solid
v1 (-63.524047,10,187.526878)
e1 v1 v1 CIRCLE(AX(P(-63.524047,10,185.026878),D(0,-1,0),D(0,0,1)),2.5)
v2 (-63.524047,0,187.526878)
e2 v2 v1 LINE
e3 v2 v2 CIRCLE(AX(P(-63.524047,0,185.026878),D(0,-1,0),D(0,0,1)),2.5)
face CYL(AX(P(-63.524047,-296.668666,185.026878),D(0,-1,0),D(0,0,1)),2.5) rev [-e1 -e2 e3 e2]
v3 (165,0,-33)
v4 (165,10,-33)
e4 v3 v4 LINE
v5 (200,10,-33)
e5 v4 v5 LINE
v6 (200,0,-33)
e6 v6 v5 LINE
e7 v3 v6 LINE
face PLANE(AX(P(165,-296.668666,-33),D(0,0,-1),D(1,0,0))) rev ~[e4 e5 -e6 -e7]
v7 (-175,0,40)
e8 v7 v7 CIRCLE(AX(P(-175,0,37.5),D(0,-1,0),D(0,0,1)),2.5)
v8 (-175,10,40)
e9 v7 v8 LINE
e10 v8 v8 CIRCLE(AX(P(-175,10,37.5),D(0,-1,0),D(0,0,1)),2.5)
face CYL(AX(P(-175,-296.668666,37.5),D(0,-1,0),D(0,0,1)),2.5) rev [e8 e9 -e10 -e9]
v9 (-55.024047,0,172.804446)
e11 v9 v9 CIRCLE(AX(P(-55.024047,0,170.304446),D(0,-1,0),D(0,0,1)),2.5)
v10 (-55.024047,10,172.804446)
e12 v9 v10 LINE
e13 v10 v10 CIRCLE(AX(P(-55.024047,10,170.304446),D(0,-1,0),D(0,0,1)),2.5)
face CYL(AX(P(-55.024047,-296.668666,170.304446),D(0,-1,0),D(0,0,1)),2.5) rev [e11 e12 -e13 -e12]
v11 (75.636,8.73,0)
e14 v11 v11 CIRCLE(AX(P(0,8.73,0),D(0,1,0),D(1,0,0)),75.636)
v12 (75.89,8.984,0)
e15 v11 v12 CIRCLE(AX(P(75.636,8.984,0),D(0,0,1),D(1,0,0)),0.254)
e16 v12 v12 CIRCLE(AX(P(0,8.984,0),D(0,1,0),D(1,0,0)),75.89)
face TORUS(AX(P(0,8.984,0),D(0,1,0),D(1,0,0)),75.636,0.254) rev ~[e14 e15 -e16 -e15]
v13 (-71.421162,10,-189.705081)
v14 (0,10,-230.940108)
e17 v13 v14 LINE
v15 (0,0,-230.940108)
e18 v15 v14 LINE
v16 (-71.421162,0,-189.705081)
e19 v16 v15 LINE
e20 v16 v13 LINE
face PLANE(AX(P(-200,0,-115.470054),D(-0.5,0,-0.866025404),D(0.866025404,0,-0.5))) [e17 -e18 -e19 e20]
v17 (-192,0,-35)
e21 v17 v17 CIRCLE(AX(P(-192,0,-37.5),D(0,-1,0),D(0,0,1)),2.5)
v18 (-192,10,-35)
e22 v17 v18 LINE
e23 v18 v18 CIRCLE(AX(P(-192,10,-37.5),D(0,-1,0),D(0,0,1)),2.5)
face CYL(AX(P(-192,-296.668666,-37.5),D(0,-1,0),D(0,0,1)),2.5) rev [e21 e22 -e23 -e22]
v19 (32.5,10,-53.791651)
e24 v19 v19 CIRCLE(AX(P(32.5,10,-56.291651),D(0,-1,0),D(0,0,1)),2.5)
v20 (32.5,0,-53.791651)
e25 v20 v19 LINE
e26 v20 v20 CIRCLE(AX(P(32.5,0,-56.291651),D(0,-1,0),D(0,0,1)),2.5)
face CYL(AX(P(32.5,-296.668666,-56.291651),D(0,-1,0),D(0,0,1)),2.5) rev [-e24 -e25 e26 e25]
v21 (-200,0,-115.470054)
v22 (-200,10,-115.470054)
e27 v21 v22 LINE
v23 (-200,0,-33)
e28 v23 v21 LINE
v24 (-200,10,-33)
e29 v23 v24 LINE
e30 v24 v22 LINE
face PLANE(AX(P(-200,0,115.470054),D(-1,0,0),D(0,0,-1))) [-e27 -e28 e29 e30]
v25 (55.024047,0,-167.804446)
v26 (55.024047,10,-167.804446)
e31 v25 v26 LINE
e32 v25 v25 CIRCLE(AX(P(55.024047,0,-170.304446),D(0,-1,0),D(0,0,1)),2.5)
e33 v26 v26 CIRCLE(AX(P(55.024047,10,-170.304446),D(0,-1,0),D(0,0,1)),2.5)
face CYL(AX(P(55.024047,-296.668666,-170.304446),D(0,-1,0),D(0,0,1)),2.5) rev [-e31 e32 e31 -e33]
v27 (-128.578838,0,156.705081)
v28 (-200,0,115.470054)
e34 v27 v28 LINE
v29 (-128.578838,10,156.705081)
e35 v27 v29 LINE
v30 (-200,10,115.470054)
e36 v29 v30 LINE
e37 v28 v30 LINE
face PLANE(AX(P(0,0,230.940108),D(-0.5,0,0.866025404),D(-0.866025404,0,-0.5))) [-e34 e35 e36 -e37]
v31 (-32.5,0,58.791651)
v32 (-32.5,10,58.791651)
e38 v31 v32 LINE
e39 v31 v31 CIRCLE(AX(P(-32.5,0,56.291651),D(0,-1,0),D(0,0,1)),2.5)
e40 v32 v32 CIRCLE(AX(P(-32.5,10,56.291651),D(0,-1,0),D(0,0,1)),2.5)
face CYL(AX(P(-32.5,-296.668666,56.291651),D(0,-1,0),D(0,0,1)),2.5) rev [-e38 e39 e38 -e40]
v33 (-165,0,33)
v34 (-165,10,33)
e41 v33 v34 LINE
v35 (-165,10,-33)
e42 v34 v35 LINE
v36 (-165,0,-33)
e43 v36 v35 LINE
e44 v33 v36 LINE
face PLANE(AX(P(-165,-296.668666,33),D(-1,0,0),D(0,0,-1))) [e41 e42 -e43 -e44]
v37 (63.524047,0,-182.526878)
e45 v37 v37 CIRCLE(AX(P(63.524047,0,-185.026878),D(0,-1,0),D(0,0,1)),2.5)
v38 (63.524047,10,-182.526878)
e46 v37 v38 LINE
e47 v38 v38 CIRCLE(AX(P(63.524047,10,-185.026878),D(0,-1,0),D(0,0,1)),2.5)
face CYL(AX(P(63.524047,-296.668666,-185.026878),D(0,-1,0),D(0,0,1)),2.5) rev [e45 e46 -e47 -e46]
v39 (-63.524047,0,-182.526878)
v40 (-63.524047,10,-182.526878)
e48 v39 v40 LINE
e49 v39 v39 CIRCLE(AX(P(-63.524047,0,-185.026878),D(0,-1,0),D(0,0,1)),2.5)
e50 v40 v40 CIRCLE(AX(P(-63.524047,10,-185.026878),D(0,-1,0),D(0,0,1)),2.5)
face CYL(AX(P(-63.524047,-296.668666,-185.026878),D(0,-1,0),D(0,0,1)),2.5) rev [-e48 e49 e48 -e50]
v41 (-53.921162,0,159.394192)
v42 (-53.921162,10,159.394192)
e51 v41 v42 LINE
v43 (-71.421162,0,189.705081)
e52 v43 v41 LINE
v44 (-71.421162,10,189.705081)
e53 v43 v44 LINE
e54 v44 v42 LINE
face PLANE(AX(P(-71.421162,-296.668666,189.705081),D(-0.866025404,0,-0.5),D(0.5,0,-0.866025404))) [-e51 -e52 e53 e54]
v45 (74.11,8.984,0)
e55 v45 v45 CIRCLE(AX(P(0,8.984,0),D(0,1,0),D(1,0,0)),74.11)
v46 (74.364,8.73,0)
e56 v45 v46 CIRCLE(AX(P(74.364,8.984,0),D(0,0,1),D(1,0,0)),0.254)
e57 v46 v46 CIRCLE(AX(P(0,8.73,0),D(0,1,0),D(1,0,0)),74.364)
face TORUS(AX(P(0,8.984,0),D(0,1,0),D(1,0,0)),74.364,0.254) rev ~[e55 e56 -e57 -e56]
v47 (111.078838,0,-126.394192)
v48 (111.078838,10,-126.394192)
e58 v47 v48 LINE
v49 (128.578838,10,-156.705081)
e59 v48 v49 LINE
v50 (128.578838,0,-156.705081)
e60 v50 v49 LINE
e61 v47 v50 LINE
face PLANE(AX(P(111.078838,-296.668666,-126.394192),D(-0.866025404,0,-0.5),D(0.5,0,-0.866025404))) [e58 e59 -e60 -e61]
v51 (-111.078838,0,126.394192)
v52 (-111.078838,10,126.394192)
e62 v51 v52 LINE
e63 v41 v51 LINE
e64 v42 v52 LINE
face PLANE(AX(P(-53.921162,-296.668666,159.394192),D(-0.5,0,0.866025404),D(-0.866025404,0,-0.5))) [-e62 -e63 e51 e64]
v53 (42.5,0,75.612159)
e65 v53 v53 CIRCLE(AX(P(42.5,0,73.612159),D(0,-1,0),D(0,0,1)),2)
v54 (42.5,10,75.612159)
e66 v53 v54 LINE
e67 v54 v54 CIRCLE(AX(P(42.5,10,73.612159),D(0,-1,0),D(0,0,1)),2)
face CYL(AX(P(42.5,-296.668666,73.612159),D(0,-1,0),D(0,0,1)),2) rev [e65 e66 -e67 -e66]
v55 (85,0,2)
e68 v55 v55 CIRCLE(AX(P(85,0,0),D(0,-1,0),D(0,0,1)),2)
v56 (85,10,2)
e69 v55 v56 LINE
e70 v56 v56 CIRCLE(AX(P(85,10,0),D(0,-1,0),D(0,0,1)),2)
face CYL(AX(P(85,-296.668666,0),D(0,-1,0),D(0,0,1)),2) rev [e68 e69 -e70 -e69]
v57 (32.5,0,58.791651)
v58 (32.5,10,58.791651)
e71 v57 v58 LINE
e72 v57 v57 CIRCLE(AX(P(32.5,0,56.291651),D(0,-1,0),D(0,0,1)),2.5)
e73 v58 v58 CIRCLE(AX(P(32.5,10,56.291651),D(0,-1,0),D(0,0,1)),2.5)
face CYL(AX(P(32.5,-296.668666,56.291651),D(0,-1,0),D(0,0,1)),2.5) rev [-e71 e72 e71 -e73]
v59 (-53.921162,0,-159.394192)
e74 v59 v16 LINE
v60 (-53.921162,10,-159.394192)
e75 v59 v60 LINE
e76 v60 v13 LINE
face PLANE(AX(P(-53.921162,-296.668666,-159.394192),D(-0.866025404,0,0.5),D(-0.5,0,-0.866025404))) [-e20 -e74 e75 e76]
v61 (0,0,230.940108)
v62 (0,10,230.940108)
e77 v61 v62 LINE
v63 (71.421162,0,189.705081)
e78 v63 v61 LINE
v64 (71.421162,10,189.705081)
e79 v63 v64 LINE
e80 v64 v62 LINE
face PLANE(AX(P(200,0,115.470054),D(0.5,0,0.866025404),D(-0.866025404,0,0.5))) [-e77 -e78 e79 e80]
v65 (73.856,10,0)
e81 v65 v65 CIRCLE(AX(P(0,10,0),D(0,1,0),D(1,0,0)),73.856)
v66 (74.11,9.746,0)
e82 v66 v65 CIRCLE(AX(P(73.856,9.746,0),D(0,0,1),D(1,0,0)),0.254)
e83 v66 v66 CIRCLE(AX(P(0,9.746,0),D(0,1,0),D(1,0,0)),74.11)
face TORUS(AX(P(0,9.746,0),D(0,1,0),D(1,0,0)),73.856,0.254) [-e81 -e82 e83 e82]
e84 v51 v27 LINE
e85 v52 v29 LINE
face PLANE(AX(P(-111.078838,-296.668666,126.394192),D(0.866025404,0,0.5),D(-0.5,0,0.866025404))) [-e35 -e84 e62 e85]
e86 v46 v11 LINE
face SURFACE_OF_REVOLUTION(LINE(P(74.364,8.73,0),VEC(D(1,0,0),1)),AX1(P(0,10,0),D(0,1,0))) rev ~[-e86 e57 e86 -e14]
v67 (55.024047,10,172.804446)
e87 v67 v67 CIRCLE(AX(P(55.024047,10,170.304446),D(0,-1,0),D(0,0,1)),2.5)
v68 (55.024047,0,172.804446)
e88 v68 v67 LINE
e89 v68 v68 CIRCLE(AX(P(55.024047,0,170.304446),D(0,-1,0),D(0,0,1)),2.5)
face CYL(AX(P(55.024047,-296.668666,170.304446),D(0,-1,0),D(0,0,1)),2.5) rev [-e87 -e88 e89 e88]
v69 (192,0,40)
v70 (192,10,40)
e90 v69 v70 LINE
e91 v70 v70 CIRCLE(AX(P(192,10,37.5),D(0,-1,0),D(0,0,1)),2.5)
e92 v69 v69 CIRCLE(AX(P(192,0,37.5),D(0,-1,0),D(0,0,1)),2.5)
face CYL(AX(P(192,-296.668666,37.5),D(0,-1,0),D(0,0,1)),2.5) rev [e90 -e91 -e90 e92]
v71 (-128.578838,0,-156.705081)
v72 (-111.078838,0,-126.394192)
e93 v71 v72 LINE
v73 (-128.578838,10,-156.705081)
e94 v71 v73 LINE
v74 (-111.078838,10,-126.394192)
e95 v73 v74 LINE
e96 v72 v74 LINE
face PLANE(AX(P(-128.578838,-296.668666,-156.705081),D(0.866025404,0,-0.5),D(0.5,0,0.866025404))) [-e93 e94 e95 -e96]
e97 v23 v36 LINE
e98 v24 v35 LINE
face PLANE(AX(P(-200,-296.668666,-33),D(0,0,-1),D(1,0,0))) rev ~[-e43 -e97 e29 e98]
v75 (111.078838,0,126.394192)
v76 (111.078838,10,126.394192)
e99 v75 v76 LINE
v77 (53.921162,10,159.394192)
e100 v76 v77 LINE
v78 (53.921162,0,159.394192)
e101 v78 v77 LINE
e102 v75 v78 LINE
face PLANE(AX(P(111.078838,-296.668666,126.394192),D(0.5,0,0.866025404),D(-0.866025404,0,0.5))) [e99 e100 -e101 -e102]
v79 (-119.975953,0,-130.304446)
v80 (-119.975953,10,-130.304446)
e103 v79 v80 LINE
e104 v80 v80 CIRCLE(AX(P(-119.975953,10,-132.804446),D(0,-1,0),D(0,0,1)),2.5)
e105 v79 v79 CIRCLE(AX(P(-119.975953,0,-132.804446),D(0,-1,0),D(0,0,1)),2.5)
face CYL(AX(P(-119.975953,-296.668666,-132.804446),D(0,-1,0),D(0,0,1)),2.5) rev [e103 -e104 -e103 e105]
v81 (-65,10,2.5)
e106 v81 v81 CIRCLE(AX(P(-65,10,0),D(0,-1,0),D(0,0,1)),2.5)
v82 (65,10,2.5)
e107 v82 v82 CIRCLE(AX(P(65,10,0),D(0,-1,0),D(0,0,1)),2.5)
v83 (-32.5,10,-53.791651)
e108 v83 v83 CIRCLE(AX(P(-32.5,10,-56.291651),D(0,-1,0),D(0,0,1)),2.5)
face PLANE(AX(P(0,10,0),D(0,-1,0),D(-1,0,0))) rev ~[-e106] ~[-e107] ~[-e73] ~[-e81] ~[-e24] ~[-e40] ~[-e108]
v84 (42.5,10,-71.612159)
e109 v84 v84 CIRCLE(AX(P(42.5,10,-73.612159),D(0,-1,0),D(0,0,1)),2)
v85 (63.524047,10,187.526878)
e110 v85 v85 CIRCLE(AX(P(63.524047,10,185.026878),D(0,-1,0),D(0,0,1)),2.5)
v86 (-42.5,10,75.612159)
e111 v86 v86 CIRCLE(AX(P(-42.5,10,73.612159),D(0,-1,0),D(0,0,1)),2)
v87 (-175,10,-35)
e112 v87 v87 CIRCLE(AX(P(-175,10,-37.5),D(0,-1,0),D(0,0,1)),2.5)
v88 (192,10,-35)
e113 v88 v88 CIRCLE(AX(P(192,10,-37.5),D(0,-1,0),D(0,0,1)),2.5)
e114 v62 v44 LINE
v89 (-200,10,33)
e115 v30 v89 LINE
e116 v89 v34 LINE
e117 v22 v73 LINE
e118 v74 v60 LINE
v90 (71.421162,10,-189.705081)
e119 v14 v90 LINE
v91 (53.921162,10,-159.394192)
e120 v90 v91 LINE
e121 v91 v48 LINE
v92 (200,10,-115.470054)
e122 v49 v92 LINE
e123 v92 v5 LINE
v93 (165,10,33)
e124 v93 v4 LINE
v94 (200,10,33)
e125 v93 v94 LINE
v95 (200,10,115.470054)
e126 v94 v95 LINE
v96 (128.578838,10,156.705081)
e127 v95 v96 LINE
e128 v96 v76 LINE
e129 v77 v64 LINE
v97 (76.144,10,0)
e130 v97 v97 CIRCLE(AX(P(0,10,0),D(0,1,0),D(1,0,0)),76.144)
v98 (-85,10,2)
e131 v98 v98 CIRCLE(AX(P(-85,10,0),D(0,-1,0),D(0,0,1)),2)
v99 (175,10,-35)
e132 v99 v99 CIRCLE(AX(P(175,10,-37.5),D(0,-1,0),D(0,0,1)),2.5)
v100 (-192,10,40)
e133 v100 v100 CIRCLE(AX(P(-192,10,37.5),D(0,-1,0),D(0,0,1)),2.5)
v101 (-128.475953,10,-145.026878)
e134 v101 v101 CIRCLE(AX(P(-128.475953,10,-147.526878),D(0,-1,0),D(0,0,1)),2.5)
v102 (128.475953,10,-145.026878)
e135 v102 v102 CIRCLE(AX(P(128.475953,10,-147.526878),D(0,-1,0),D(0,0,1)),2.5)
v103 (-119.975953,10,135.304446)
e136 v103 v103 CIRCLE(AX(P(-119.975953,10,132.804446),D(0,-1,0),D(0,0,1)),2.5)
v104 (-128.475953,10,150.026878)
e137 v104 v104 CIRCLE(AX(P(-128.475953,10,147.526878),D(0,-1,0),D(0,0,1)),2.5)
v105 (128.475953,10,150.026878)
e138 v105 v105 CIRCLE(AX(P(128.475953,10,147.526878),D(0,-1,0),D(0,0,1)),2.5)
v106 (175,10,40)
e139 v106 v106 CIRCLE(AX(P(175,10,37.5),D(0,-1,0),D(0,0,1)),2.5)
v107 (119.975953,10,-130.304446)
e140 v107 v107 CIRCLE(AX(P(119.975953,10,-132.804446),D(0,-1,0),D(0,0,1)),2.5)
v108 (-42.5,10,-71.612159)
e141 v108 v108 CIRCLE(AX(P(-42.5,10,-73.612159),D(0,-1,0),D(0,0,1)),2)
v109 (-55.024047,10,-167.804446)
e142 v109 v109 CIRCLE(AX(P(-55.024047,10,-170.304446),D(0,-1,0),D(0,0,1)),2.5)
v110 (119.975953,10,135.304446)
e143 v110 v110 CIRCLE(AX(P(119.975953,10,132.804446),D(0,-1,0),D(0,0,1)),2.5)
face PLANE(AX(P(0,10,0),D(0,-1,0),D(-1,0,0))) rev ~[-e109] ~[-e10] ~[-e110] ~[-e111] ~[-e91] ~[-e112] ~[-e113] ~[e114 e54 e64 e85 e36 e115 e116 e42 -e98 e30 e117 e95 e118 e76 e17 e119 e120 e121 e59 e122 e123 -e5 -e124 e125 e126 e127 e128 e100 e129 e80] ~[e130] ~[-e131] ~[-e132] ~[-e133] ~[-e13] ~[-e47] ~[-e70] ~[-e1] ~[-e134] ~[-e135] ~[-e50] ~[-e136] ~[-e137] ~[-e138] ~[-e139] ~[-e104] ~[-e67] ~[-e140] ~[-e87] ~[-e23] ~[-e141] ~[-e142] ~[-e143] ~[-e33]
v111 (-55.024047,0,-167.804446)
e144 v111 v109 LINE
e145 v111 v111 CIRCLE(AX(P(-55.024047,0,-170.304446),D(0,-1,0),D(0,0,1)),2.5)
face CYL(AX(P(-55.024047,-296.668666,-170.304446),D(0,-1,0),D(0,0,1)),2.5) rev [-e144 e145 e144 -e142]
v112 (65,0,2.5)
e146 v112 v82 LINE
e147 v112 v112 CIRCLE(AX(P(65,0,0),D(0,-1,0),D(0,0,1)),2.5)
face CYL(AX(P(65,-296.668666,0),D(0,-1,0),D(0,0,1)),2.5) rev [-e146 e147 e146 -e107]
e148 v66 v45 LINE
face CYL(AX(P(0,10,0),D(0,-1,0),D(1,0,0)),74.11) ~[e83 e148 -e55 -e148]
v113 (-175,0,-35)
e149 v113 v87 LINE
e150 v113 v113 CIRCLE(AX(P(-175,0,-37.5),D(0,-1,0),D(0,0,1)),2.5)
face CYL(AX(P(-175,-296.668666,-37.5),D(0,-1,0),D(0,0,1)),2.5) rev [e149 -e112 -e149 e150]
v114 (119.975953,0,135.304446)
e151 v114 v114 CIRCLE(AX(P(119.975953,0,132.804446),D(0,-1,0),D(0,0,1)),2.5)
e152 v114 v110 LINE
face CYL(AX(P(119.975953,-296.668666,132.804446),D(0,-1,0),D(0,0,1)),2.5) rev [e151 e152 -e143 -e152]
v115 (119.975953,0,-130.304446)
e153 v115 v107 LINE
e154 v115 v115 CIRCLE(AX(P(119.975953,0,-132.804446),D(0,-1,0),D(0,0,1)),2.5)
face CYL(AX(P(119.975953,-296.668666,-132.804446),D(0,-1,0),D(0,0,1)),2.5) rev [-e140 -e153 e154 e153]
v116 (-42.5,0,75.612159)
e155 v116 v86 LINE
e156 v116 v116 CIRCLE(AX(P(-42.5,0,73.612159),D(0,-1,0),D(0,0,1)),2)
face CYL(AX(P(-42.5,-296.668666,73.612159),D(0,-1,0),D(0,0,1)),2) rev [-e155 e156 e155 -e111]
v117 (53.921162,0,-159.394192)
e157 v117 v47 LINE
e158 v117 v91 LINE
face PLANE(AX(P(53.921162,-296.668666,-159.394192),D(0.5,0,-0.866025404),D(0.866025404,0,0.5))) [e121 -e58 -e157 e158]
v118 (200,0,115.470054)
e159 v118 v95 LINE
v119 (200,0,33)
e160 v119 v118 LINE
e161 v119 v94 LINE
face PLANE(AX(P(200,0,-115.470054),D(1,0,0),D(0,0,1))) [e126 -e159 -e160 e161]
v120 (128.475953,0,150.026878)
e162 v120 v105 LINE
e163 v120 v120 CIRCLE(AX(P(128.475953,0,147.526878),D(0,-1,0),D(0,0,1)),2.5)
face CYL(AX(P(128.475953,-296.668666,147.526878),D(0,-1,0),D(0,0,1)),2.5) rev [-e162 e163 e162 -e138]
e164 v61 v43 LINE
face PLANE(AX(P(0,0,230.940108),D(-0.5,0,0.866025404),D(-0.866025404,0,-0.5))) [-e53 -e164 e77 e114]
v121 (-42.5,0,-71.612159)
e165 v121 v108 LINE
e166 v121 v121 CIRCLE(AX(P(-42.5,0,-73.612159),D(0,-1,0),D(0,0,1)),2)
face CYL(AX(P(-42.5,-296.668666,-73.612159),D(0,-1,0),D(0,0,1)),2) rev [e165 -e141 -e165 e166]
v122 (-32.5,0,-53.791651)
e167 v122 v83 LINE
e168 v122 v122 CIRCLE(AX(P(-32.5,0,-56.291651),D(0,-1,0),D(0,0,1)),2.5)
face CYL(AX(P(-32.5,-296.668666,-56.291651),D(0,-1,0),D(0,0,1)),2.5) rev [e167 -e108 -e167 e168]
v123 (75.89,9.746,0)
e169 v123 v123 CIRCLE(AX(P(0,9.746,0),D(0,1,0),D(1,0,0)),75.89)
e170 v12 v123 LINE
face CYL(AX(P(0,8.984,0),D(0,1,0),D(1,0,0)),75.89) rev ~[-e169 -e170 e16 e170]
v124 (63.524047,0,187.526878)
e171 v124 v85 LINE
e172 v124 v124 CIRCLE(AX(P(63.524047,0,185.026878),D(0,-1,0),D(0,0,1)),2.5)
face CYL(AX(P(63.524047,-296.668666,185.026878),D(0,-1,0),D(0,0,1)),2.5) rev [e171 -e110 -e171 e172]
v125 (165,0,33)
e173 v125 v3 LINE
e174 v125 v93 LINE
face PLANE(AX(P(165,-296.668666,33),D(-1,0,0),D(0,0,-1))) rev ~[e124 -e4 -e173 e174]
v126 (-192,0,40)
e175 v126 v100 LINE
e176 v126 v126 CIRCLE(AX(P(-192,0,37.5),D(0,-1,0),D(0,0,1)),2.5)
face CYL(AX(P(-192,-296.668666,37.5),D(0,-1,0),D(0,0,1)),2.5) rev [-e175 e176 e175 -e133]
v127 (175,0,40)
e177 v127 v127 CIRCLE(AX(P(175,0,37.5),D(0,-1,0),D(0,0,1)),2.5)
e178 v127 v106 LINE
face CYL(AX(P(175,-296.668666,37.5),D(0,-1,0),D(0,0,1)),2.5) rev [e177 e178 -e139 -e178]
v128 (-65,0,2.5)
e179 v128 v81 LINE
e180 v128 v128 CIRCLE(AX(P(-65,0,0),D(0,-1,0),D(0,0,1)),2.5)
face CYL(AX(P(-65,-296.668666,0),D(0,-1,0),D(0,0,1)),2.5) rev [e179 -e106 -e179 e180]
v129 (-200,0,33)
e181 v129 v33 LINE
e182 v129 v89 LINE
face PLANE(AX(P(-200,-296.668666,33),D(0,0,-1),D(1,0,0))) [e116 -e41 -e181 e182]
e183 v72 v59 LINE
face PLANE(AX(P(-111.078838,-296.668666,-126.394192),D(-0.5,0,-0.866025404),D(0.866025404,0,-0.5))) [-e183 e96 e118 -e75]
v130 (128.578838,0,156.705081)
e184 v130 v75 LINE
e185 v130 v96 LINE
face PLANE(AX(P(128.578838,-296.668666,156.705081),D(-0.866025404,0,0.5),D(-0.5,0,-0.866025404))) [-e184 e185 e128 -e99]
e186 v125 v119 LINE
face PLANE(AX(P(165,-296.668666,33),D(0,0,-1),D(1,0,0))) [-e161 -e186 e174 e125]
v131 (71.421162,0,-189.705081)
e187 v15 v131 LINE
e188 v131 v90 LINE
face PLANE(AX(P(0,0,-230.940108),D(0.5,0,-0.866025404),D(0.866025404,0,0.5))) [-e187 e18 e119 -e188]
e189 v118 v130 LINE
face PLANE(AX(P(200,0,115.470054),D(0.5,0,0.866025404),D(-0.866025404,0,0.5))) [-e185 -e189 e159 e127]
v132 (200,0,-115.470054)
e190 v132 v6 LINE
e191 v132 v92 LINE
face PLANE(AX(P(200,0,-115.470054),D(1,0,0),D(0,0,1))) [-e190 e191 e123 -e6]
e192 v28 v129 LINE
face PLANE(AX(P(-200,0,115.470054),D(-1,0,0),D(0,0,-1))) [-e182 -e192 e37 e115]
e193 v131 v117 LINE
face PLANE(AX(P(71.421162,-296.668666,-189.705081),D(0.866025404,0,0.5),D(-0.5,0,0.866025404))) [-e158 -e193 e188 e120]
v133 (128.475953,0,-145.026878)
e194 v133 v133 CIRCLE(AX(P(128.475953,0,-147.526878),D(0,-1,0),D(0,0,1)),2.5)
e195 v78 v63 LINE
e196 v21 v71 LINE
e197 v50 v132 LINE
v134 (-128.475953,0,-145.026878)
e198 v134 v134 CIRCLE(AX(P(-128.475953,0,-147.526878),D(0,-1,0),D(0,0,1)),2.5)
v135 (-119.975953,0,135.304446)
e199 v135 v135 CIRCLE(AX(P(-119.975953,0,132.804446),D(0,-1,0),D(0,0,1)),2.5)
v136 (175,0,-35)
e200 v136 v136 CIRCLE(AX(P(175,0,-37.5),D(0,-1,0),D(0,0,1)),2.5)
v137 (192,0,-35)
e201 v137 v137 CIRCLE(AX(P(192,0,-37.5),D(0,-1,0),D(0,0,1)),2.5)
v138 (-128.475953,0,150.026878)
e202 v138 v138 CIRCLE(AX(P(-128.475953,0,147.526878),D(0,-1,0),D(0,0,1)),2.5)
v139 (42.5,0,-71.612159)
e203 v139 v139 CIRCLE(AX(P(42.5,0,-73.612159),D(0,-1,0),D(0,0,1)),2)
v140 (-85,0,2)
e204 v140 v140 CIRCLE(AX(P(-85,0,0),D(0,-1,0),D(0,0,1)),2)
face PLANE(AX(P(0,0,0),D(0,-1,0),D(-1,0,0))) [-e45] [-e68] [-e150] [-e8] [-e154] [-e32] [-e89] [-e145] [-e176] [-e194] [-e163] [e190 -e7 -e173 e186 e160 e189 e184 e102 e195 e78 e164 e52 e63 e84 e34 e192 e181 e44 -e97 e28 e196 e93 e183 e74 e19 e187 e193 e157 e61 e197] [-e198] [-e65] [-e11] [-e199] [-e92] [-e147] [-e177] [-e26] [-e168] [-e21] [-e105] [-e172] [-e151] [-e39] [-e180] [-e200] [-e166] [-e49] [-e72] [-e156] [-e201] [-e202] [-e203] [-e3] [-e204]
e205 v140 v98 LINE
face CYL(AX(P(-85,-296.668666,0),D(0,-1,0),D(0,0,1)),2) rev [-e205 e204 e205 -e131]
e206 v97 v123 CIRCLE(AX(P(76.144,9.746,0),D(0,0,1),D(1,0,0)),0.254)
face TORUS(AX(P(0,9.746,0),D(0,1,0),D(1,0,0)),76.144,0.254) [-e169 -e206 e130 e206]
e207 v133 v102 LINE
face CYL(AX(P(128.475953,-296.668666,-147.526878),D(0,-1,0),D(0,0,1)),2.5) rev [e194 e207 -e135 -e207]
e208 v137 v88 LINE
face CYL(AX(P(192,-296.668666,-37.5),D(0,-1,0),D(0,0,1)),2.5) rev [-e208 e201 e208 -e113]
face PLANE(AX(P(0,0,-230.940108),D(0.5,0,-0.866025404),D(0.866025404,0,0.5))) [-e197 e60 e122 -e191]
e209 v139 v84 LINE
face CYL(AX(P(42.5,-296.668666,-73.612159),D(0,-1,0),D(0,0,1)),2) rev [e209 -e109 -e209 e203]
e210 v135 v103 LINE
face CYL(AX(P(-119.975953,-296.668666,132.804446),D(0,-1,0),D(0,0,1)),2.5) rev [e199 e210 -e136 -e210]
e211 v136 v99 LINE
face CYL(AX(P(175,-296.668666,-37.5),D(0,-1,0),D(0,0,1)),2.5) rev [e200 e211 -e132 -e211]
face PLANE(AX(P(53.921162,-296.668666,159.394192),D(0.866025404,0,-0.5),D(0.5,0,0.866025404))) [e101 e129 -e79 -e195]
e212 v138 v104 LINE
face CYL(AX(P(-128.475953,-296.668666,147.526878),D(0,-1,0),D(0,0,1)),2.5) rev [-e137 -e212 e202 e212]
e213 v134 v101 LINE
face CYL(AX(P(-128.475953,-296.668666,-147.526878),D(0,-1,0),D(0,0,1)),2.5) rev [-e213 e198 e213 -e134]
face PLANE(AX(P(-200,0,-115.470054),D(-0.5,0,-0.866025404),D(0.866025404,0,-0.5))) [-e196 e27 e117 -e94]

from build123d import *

# Parameters (mm, degrees)
BOSS_EXTRUDE1_DEPTH     = 10
CUT_EXTRUDE1_DEPTH      = 306.668665933
CUT_EXTRUDE1_DEPTH_BACK = 306.668665933
SKETCH2_R               = 2.5
SKETCH2_W               = 35
SKETCH2_H               = 66
FILLET1_R               = 0.254
CUT_EXTRUDE2_DEPTH      = 306.668665933
CUT_EXTRUDE2_DEPTH_BACK = 306.668665933
SKETCH5_R               = 2
SKETCH5_R_2             = 2.5


with BuildPart() as part:
    # Sketch1 → Boss-Extrude1 (new body)
    with BuildSketch(Plane(origin=(0, 0, 0), x_dir=(1, 0, 0), z_dir=(0, 1, 0))):
        Polygon((-200, 115.470053838), (0, 230.940107676), (200, 115.470053838), (200, -115.470053838), (0, -230.940107676), (-200, -115.470053838), align=None)
    extrude(amount=BOSS_EXTRUDE1_DEPTH)

    # Sketch2 → Cut-Extrude1 (cut, two sides: drawn at the far end of the back side and taken through both)
    with BuildSketch(Plane(origin=(0, 10, 0), x_dir=(1, 0, 0), z_dir=(0, 1, 0)).offset(-CUT_EXTRUDE1_DEPTH_BACK)):
        with Locations(Location((175, 37.5, 0), (0, 0, 270))):
            Circle(SKETCH2_R)
        with Locations((182.5, 0)):
            Rectangle(SKETCH2_W, SKETCH2_H)
        with Locations(Location((175, -37.5, 0), (0, 0, 270))):
            Circle(SKETCH2_R)
        Polygon((71.421161675, -189.705080757), (128.578838325, -156.705080757), (111.078838325, -126.394191624), (53.921161675, -159.394191624), align=None)
        Polygon((111.078838325, 126.394191624), (128.578838325, 156.705080757), (71.421161675, 189.705080757), (53.921161675, 159.394191624), align=None)
        Polygon((-128.578838325, -156.705080757), (-71.421161675, -189.705080757), (-53.921161675, -159.394191624), (-111.078838325, -126.394191624), align=None)
        Polygon((-53.921161675, 159.394191624), (-71.421161675, 189.705080757), (-128.578838325, 156.705080757), (-111.078838325, 126.394191624), align=None)
        with Locations((-182.5, 0)):
            Rectangle(SKETCH2_W, SKETCH2_H)
        with Locations(Location((192, 37.5, 0), (0, 0, 270))):
            Circle(SKETCH2_R)
        with Locations(Location((192, -37.5, 0), (0, 0, 270))):
            Circle(SKETCH2_R)
        with Locations(Location((119.975952642, -132.804445662, 0), (0, 0, 270))):
            Circle(SKETCH2_R)
        with Locations(Location((128.475952642, -147.526877527, 0), (0, 0, 270))):
            Circle(SKETCH2_R)
        with Locations(Location((55.024047358, -170.304445662, 0), (0, 0, 270))):
            Circle(SKETCH2_R)
        with Locations(Location((63.524047358, -185.026877527, 0), (0, 0, 270))):
            Circle(SKETCH2_R)
        with Locations(Location((-55.024047358, -170.304445662, 0), (0, 0, 270))):
            Circle(SKETCH2_R)
        with Locations(Location((-63.524047358, -185.026877527, 0), (0, 0, 270))):
            Circle(SKETCH2_R)
        with Locations(Location((-119.975952642, -132.804445662, 0), (0, 0, 270))):
            Circle(SKETCH2_R)
        with Locations(Location((-128.475952642, -147.526877527, 0), (0, 0, 270))):
            Circle(SKETCH2_R)
        with Locations(Location((-175, -37.5, 0), (0, 0, 270))):
            Circle(SKETCH2_R)
        with Locations(Location((-192, -37.5, 0), (0, 0, 270))):
            Circle(SKETCH2_R)
        with Locations(Location((-175, 37.5, 0), (0, 0, 270))):
            Circle(SKETCH2_R)
        with Locations(Location((-192, 37.5, 0), (0, 0, 270))):
            Circle(SKETCH2_R)
        with Locations(Location((-119.975952642, 132.804445662, 0), (0, 0, 270))):
            Circle(SKETCH2_R)
        with Locations(Location((-128.475952642, 147.526877527, 0), (0, 0, 270))):
            Circle(SKETCH2_R)
        with Locations(Location((-55.024047358, 170.304445662, 0), (0, 0, 270))):
            Circle(SKETCH2_R)
        with Locations(Location((-63.524047358, 185.026877527, 0), (0, 0, 270))):
            Circle(SKETCH2_R)
        with Locations(Location((55.024047358, 170.304445662, 0), (0, 0, 270))):
            Circle(SKETCH2_R)
        with Locations(Location((63.524047358, 185.026877527, 0), (0, 0, 270))):
            Circle(SKETCH2_R)
        with Locations(Location((119.975952642, 132.804445662, 0), (0, 0, 270))):
            Circle(SKETCH2_R)
        with Locations(Location((128.475952642, 147.526877527, 0), (0, 0, 270))):
            Circle(SKETCH2_R)
    extrude(amount=CUT_EXTRUDE1_DEPTH + CUT_EXTRUDE1_DEPTH_BACK, mode=Mode.SUBTRACT)

    # Cut-Sweep1: sweep along a path in Sketch4
    with BuildLine(Plane(origin=(0, 10, 0), x_dir=(1, 0, 0), z_dir=(0, 1, 0))) as cut_sweep1_path:
        CenterArc((0, 0), 75, 0, 360)
    # Sketch3 → Cut-Sweep1 (sweep, cut)
    with BuildSketch(Plane.XY):
        with BuildLine():
            Line((74.11, 10), (74.11, 8.984))
            ThreePointArc((74.11, 8.984), (74.184394878, 8.804394878), (74.364, 8.73))
            Line((74.364, 8.73), (75.636, 8.73))
            ThreePointArc((75.636, 8.73), (75.815605122, 8.804394878), (75.89, 8.984))
            Line((75.89, 8.984), (75.89, 10))
            Line((75.89, 10), (74.11, 10))
        make_face()
    sweep(path=cut_sweep1_path.line, mode=Mode.SUBTRACT)

    # Fillet1
    fillet1_edges = [part.edges().sort_by_distance(p)[0] for p in [
        (-75.89, 10, 0),
        (-74.11, 10, 0),
    ]]
    fillet(fillet1_edges, radius=FILLET1_R)

    # Sketch5 → Cut-Extrude2 (cut, two sides: drawn at the far end of the back side and taken through both)
    with BuildSketch(Plane(origin=(0, 10, 0), x_dir=(1, 0, 0), z_dir=(0, 1, 0)).offset(-CUT_EXTRUDE2_DEPTH_BACK)):
        with Locations(Location((85, 0, 0), (0, 0, 270))):
            Circle(SKETCH5_R)
        with Locations(Location((42.5, -73.612159322, 0), (0, 0, 270))):
            Circle(SKETCH5_R)
        with Locations(Location((-42.5, -73.612159322, 0), (0, 0, 270))):
            Circle(SKETCH5_R)
        with Locations(Location((-85, 0, 0), (0, 0, 270))):
            Circle(SKETCH5_R)
        with Locations(Location((-42.5, 73.612159322, 0), (0, 0, 270))):
            Circle(SKETCH5_R)
        with Locations(Location((42.5, 73.612159322, 0), (0, 0, 270))):
            Circle(SKETCH5_R)
        with Locations(Location((65, 0, 0), (0, 0, 270))):
            Circle(SKETCH5_R_2)
        with Locations(Location((32.5, -56.291651246, 0), (0, 0, 270))):
            Circle(SKETCH5_R_2)
        with Locations(Location((-32.5, -56.291651246, 0), (0, 0, 270))):
            Circle(SKETCH5_R_2)
        with Locations(Location((-65, 0, 0), (0, 0, 270))):
            Circle(SKETCH5_R_2)
        with Locations(Location((-32.5, 56.291651246, 0), (0, 0, 270))):
            Circle(SKETCH5_R_2)
        with Locations(Location((32.5, 56.291651246, 0), (0, 0, 270))):
            Circle(SKETCH5_R_2)
    extrude(amount=CUT_EXTRUDE2_DEPTH + CUT_EXTRUDE2_DEPTH_BACK, mode=Mode.SUBTRACT)


solid = part.part
